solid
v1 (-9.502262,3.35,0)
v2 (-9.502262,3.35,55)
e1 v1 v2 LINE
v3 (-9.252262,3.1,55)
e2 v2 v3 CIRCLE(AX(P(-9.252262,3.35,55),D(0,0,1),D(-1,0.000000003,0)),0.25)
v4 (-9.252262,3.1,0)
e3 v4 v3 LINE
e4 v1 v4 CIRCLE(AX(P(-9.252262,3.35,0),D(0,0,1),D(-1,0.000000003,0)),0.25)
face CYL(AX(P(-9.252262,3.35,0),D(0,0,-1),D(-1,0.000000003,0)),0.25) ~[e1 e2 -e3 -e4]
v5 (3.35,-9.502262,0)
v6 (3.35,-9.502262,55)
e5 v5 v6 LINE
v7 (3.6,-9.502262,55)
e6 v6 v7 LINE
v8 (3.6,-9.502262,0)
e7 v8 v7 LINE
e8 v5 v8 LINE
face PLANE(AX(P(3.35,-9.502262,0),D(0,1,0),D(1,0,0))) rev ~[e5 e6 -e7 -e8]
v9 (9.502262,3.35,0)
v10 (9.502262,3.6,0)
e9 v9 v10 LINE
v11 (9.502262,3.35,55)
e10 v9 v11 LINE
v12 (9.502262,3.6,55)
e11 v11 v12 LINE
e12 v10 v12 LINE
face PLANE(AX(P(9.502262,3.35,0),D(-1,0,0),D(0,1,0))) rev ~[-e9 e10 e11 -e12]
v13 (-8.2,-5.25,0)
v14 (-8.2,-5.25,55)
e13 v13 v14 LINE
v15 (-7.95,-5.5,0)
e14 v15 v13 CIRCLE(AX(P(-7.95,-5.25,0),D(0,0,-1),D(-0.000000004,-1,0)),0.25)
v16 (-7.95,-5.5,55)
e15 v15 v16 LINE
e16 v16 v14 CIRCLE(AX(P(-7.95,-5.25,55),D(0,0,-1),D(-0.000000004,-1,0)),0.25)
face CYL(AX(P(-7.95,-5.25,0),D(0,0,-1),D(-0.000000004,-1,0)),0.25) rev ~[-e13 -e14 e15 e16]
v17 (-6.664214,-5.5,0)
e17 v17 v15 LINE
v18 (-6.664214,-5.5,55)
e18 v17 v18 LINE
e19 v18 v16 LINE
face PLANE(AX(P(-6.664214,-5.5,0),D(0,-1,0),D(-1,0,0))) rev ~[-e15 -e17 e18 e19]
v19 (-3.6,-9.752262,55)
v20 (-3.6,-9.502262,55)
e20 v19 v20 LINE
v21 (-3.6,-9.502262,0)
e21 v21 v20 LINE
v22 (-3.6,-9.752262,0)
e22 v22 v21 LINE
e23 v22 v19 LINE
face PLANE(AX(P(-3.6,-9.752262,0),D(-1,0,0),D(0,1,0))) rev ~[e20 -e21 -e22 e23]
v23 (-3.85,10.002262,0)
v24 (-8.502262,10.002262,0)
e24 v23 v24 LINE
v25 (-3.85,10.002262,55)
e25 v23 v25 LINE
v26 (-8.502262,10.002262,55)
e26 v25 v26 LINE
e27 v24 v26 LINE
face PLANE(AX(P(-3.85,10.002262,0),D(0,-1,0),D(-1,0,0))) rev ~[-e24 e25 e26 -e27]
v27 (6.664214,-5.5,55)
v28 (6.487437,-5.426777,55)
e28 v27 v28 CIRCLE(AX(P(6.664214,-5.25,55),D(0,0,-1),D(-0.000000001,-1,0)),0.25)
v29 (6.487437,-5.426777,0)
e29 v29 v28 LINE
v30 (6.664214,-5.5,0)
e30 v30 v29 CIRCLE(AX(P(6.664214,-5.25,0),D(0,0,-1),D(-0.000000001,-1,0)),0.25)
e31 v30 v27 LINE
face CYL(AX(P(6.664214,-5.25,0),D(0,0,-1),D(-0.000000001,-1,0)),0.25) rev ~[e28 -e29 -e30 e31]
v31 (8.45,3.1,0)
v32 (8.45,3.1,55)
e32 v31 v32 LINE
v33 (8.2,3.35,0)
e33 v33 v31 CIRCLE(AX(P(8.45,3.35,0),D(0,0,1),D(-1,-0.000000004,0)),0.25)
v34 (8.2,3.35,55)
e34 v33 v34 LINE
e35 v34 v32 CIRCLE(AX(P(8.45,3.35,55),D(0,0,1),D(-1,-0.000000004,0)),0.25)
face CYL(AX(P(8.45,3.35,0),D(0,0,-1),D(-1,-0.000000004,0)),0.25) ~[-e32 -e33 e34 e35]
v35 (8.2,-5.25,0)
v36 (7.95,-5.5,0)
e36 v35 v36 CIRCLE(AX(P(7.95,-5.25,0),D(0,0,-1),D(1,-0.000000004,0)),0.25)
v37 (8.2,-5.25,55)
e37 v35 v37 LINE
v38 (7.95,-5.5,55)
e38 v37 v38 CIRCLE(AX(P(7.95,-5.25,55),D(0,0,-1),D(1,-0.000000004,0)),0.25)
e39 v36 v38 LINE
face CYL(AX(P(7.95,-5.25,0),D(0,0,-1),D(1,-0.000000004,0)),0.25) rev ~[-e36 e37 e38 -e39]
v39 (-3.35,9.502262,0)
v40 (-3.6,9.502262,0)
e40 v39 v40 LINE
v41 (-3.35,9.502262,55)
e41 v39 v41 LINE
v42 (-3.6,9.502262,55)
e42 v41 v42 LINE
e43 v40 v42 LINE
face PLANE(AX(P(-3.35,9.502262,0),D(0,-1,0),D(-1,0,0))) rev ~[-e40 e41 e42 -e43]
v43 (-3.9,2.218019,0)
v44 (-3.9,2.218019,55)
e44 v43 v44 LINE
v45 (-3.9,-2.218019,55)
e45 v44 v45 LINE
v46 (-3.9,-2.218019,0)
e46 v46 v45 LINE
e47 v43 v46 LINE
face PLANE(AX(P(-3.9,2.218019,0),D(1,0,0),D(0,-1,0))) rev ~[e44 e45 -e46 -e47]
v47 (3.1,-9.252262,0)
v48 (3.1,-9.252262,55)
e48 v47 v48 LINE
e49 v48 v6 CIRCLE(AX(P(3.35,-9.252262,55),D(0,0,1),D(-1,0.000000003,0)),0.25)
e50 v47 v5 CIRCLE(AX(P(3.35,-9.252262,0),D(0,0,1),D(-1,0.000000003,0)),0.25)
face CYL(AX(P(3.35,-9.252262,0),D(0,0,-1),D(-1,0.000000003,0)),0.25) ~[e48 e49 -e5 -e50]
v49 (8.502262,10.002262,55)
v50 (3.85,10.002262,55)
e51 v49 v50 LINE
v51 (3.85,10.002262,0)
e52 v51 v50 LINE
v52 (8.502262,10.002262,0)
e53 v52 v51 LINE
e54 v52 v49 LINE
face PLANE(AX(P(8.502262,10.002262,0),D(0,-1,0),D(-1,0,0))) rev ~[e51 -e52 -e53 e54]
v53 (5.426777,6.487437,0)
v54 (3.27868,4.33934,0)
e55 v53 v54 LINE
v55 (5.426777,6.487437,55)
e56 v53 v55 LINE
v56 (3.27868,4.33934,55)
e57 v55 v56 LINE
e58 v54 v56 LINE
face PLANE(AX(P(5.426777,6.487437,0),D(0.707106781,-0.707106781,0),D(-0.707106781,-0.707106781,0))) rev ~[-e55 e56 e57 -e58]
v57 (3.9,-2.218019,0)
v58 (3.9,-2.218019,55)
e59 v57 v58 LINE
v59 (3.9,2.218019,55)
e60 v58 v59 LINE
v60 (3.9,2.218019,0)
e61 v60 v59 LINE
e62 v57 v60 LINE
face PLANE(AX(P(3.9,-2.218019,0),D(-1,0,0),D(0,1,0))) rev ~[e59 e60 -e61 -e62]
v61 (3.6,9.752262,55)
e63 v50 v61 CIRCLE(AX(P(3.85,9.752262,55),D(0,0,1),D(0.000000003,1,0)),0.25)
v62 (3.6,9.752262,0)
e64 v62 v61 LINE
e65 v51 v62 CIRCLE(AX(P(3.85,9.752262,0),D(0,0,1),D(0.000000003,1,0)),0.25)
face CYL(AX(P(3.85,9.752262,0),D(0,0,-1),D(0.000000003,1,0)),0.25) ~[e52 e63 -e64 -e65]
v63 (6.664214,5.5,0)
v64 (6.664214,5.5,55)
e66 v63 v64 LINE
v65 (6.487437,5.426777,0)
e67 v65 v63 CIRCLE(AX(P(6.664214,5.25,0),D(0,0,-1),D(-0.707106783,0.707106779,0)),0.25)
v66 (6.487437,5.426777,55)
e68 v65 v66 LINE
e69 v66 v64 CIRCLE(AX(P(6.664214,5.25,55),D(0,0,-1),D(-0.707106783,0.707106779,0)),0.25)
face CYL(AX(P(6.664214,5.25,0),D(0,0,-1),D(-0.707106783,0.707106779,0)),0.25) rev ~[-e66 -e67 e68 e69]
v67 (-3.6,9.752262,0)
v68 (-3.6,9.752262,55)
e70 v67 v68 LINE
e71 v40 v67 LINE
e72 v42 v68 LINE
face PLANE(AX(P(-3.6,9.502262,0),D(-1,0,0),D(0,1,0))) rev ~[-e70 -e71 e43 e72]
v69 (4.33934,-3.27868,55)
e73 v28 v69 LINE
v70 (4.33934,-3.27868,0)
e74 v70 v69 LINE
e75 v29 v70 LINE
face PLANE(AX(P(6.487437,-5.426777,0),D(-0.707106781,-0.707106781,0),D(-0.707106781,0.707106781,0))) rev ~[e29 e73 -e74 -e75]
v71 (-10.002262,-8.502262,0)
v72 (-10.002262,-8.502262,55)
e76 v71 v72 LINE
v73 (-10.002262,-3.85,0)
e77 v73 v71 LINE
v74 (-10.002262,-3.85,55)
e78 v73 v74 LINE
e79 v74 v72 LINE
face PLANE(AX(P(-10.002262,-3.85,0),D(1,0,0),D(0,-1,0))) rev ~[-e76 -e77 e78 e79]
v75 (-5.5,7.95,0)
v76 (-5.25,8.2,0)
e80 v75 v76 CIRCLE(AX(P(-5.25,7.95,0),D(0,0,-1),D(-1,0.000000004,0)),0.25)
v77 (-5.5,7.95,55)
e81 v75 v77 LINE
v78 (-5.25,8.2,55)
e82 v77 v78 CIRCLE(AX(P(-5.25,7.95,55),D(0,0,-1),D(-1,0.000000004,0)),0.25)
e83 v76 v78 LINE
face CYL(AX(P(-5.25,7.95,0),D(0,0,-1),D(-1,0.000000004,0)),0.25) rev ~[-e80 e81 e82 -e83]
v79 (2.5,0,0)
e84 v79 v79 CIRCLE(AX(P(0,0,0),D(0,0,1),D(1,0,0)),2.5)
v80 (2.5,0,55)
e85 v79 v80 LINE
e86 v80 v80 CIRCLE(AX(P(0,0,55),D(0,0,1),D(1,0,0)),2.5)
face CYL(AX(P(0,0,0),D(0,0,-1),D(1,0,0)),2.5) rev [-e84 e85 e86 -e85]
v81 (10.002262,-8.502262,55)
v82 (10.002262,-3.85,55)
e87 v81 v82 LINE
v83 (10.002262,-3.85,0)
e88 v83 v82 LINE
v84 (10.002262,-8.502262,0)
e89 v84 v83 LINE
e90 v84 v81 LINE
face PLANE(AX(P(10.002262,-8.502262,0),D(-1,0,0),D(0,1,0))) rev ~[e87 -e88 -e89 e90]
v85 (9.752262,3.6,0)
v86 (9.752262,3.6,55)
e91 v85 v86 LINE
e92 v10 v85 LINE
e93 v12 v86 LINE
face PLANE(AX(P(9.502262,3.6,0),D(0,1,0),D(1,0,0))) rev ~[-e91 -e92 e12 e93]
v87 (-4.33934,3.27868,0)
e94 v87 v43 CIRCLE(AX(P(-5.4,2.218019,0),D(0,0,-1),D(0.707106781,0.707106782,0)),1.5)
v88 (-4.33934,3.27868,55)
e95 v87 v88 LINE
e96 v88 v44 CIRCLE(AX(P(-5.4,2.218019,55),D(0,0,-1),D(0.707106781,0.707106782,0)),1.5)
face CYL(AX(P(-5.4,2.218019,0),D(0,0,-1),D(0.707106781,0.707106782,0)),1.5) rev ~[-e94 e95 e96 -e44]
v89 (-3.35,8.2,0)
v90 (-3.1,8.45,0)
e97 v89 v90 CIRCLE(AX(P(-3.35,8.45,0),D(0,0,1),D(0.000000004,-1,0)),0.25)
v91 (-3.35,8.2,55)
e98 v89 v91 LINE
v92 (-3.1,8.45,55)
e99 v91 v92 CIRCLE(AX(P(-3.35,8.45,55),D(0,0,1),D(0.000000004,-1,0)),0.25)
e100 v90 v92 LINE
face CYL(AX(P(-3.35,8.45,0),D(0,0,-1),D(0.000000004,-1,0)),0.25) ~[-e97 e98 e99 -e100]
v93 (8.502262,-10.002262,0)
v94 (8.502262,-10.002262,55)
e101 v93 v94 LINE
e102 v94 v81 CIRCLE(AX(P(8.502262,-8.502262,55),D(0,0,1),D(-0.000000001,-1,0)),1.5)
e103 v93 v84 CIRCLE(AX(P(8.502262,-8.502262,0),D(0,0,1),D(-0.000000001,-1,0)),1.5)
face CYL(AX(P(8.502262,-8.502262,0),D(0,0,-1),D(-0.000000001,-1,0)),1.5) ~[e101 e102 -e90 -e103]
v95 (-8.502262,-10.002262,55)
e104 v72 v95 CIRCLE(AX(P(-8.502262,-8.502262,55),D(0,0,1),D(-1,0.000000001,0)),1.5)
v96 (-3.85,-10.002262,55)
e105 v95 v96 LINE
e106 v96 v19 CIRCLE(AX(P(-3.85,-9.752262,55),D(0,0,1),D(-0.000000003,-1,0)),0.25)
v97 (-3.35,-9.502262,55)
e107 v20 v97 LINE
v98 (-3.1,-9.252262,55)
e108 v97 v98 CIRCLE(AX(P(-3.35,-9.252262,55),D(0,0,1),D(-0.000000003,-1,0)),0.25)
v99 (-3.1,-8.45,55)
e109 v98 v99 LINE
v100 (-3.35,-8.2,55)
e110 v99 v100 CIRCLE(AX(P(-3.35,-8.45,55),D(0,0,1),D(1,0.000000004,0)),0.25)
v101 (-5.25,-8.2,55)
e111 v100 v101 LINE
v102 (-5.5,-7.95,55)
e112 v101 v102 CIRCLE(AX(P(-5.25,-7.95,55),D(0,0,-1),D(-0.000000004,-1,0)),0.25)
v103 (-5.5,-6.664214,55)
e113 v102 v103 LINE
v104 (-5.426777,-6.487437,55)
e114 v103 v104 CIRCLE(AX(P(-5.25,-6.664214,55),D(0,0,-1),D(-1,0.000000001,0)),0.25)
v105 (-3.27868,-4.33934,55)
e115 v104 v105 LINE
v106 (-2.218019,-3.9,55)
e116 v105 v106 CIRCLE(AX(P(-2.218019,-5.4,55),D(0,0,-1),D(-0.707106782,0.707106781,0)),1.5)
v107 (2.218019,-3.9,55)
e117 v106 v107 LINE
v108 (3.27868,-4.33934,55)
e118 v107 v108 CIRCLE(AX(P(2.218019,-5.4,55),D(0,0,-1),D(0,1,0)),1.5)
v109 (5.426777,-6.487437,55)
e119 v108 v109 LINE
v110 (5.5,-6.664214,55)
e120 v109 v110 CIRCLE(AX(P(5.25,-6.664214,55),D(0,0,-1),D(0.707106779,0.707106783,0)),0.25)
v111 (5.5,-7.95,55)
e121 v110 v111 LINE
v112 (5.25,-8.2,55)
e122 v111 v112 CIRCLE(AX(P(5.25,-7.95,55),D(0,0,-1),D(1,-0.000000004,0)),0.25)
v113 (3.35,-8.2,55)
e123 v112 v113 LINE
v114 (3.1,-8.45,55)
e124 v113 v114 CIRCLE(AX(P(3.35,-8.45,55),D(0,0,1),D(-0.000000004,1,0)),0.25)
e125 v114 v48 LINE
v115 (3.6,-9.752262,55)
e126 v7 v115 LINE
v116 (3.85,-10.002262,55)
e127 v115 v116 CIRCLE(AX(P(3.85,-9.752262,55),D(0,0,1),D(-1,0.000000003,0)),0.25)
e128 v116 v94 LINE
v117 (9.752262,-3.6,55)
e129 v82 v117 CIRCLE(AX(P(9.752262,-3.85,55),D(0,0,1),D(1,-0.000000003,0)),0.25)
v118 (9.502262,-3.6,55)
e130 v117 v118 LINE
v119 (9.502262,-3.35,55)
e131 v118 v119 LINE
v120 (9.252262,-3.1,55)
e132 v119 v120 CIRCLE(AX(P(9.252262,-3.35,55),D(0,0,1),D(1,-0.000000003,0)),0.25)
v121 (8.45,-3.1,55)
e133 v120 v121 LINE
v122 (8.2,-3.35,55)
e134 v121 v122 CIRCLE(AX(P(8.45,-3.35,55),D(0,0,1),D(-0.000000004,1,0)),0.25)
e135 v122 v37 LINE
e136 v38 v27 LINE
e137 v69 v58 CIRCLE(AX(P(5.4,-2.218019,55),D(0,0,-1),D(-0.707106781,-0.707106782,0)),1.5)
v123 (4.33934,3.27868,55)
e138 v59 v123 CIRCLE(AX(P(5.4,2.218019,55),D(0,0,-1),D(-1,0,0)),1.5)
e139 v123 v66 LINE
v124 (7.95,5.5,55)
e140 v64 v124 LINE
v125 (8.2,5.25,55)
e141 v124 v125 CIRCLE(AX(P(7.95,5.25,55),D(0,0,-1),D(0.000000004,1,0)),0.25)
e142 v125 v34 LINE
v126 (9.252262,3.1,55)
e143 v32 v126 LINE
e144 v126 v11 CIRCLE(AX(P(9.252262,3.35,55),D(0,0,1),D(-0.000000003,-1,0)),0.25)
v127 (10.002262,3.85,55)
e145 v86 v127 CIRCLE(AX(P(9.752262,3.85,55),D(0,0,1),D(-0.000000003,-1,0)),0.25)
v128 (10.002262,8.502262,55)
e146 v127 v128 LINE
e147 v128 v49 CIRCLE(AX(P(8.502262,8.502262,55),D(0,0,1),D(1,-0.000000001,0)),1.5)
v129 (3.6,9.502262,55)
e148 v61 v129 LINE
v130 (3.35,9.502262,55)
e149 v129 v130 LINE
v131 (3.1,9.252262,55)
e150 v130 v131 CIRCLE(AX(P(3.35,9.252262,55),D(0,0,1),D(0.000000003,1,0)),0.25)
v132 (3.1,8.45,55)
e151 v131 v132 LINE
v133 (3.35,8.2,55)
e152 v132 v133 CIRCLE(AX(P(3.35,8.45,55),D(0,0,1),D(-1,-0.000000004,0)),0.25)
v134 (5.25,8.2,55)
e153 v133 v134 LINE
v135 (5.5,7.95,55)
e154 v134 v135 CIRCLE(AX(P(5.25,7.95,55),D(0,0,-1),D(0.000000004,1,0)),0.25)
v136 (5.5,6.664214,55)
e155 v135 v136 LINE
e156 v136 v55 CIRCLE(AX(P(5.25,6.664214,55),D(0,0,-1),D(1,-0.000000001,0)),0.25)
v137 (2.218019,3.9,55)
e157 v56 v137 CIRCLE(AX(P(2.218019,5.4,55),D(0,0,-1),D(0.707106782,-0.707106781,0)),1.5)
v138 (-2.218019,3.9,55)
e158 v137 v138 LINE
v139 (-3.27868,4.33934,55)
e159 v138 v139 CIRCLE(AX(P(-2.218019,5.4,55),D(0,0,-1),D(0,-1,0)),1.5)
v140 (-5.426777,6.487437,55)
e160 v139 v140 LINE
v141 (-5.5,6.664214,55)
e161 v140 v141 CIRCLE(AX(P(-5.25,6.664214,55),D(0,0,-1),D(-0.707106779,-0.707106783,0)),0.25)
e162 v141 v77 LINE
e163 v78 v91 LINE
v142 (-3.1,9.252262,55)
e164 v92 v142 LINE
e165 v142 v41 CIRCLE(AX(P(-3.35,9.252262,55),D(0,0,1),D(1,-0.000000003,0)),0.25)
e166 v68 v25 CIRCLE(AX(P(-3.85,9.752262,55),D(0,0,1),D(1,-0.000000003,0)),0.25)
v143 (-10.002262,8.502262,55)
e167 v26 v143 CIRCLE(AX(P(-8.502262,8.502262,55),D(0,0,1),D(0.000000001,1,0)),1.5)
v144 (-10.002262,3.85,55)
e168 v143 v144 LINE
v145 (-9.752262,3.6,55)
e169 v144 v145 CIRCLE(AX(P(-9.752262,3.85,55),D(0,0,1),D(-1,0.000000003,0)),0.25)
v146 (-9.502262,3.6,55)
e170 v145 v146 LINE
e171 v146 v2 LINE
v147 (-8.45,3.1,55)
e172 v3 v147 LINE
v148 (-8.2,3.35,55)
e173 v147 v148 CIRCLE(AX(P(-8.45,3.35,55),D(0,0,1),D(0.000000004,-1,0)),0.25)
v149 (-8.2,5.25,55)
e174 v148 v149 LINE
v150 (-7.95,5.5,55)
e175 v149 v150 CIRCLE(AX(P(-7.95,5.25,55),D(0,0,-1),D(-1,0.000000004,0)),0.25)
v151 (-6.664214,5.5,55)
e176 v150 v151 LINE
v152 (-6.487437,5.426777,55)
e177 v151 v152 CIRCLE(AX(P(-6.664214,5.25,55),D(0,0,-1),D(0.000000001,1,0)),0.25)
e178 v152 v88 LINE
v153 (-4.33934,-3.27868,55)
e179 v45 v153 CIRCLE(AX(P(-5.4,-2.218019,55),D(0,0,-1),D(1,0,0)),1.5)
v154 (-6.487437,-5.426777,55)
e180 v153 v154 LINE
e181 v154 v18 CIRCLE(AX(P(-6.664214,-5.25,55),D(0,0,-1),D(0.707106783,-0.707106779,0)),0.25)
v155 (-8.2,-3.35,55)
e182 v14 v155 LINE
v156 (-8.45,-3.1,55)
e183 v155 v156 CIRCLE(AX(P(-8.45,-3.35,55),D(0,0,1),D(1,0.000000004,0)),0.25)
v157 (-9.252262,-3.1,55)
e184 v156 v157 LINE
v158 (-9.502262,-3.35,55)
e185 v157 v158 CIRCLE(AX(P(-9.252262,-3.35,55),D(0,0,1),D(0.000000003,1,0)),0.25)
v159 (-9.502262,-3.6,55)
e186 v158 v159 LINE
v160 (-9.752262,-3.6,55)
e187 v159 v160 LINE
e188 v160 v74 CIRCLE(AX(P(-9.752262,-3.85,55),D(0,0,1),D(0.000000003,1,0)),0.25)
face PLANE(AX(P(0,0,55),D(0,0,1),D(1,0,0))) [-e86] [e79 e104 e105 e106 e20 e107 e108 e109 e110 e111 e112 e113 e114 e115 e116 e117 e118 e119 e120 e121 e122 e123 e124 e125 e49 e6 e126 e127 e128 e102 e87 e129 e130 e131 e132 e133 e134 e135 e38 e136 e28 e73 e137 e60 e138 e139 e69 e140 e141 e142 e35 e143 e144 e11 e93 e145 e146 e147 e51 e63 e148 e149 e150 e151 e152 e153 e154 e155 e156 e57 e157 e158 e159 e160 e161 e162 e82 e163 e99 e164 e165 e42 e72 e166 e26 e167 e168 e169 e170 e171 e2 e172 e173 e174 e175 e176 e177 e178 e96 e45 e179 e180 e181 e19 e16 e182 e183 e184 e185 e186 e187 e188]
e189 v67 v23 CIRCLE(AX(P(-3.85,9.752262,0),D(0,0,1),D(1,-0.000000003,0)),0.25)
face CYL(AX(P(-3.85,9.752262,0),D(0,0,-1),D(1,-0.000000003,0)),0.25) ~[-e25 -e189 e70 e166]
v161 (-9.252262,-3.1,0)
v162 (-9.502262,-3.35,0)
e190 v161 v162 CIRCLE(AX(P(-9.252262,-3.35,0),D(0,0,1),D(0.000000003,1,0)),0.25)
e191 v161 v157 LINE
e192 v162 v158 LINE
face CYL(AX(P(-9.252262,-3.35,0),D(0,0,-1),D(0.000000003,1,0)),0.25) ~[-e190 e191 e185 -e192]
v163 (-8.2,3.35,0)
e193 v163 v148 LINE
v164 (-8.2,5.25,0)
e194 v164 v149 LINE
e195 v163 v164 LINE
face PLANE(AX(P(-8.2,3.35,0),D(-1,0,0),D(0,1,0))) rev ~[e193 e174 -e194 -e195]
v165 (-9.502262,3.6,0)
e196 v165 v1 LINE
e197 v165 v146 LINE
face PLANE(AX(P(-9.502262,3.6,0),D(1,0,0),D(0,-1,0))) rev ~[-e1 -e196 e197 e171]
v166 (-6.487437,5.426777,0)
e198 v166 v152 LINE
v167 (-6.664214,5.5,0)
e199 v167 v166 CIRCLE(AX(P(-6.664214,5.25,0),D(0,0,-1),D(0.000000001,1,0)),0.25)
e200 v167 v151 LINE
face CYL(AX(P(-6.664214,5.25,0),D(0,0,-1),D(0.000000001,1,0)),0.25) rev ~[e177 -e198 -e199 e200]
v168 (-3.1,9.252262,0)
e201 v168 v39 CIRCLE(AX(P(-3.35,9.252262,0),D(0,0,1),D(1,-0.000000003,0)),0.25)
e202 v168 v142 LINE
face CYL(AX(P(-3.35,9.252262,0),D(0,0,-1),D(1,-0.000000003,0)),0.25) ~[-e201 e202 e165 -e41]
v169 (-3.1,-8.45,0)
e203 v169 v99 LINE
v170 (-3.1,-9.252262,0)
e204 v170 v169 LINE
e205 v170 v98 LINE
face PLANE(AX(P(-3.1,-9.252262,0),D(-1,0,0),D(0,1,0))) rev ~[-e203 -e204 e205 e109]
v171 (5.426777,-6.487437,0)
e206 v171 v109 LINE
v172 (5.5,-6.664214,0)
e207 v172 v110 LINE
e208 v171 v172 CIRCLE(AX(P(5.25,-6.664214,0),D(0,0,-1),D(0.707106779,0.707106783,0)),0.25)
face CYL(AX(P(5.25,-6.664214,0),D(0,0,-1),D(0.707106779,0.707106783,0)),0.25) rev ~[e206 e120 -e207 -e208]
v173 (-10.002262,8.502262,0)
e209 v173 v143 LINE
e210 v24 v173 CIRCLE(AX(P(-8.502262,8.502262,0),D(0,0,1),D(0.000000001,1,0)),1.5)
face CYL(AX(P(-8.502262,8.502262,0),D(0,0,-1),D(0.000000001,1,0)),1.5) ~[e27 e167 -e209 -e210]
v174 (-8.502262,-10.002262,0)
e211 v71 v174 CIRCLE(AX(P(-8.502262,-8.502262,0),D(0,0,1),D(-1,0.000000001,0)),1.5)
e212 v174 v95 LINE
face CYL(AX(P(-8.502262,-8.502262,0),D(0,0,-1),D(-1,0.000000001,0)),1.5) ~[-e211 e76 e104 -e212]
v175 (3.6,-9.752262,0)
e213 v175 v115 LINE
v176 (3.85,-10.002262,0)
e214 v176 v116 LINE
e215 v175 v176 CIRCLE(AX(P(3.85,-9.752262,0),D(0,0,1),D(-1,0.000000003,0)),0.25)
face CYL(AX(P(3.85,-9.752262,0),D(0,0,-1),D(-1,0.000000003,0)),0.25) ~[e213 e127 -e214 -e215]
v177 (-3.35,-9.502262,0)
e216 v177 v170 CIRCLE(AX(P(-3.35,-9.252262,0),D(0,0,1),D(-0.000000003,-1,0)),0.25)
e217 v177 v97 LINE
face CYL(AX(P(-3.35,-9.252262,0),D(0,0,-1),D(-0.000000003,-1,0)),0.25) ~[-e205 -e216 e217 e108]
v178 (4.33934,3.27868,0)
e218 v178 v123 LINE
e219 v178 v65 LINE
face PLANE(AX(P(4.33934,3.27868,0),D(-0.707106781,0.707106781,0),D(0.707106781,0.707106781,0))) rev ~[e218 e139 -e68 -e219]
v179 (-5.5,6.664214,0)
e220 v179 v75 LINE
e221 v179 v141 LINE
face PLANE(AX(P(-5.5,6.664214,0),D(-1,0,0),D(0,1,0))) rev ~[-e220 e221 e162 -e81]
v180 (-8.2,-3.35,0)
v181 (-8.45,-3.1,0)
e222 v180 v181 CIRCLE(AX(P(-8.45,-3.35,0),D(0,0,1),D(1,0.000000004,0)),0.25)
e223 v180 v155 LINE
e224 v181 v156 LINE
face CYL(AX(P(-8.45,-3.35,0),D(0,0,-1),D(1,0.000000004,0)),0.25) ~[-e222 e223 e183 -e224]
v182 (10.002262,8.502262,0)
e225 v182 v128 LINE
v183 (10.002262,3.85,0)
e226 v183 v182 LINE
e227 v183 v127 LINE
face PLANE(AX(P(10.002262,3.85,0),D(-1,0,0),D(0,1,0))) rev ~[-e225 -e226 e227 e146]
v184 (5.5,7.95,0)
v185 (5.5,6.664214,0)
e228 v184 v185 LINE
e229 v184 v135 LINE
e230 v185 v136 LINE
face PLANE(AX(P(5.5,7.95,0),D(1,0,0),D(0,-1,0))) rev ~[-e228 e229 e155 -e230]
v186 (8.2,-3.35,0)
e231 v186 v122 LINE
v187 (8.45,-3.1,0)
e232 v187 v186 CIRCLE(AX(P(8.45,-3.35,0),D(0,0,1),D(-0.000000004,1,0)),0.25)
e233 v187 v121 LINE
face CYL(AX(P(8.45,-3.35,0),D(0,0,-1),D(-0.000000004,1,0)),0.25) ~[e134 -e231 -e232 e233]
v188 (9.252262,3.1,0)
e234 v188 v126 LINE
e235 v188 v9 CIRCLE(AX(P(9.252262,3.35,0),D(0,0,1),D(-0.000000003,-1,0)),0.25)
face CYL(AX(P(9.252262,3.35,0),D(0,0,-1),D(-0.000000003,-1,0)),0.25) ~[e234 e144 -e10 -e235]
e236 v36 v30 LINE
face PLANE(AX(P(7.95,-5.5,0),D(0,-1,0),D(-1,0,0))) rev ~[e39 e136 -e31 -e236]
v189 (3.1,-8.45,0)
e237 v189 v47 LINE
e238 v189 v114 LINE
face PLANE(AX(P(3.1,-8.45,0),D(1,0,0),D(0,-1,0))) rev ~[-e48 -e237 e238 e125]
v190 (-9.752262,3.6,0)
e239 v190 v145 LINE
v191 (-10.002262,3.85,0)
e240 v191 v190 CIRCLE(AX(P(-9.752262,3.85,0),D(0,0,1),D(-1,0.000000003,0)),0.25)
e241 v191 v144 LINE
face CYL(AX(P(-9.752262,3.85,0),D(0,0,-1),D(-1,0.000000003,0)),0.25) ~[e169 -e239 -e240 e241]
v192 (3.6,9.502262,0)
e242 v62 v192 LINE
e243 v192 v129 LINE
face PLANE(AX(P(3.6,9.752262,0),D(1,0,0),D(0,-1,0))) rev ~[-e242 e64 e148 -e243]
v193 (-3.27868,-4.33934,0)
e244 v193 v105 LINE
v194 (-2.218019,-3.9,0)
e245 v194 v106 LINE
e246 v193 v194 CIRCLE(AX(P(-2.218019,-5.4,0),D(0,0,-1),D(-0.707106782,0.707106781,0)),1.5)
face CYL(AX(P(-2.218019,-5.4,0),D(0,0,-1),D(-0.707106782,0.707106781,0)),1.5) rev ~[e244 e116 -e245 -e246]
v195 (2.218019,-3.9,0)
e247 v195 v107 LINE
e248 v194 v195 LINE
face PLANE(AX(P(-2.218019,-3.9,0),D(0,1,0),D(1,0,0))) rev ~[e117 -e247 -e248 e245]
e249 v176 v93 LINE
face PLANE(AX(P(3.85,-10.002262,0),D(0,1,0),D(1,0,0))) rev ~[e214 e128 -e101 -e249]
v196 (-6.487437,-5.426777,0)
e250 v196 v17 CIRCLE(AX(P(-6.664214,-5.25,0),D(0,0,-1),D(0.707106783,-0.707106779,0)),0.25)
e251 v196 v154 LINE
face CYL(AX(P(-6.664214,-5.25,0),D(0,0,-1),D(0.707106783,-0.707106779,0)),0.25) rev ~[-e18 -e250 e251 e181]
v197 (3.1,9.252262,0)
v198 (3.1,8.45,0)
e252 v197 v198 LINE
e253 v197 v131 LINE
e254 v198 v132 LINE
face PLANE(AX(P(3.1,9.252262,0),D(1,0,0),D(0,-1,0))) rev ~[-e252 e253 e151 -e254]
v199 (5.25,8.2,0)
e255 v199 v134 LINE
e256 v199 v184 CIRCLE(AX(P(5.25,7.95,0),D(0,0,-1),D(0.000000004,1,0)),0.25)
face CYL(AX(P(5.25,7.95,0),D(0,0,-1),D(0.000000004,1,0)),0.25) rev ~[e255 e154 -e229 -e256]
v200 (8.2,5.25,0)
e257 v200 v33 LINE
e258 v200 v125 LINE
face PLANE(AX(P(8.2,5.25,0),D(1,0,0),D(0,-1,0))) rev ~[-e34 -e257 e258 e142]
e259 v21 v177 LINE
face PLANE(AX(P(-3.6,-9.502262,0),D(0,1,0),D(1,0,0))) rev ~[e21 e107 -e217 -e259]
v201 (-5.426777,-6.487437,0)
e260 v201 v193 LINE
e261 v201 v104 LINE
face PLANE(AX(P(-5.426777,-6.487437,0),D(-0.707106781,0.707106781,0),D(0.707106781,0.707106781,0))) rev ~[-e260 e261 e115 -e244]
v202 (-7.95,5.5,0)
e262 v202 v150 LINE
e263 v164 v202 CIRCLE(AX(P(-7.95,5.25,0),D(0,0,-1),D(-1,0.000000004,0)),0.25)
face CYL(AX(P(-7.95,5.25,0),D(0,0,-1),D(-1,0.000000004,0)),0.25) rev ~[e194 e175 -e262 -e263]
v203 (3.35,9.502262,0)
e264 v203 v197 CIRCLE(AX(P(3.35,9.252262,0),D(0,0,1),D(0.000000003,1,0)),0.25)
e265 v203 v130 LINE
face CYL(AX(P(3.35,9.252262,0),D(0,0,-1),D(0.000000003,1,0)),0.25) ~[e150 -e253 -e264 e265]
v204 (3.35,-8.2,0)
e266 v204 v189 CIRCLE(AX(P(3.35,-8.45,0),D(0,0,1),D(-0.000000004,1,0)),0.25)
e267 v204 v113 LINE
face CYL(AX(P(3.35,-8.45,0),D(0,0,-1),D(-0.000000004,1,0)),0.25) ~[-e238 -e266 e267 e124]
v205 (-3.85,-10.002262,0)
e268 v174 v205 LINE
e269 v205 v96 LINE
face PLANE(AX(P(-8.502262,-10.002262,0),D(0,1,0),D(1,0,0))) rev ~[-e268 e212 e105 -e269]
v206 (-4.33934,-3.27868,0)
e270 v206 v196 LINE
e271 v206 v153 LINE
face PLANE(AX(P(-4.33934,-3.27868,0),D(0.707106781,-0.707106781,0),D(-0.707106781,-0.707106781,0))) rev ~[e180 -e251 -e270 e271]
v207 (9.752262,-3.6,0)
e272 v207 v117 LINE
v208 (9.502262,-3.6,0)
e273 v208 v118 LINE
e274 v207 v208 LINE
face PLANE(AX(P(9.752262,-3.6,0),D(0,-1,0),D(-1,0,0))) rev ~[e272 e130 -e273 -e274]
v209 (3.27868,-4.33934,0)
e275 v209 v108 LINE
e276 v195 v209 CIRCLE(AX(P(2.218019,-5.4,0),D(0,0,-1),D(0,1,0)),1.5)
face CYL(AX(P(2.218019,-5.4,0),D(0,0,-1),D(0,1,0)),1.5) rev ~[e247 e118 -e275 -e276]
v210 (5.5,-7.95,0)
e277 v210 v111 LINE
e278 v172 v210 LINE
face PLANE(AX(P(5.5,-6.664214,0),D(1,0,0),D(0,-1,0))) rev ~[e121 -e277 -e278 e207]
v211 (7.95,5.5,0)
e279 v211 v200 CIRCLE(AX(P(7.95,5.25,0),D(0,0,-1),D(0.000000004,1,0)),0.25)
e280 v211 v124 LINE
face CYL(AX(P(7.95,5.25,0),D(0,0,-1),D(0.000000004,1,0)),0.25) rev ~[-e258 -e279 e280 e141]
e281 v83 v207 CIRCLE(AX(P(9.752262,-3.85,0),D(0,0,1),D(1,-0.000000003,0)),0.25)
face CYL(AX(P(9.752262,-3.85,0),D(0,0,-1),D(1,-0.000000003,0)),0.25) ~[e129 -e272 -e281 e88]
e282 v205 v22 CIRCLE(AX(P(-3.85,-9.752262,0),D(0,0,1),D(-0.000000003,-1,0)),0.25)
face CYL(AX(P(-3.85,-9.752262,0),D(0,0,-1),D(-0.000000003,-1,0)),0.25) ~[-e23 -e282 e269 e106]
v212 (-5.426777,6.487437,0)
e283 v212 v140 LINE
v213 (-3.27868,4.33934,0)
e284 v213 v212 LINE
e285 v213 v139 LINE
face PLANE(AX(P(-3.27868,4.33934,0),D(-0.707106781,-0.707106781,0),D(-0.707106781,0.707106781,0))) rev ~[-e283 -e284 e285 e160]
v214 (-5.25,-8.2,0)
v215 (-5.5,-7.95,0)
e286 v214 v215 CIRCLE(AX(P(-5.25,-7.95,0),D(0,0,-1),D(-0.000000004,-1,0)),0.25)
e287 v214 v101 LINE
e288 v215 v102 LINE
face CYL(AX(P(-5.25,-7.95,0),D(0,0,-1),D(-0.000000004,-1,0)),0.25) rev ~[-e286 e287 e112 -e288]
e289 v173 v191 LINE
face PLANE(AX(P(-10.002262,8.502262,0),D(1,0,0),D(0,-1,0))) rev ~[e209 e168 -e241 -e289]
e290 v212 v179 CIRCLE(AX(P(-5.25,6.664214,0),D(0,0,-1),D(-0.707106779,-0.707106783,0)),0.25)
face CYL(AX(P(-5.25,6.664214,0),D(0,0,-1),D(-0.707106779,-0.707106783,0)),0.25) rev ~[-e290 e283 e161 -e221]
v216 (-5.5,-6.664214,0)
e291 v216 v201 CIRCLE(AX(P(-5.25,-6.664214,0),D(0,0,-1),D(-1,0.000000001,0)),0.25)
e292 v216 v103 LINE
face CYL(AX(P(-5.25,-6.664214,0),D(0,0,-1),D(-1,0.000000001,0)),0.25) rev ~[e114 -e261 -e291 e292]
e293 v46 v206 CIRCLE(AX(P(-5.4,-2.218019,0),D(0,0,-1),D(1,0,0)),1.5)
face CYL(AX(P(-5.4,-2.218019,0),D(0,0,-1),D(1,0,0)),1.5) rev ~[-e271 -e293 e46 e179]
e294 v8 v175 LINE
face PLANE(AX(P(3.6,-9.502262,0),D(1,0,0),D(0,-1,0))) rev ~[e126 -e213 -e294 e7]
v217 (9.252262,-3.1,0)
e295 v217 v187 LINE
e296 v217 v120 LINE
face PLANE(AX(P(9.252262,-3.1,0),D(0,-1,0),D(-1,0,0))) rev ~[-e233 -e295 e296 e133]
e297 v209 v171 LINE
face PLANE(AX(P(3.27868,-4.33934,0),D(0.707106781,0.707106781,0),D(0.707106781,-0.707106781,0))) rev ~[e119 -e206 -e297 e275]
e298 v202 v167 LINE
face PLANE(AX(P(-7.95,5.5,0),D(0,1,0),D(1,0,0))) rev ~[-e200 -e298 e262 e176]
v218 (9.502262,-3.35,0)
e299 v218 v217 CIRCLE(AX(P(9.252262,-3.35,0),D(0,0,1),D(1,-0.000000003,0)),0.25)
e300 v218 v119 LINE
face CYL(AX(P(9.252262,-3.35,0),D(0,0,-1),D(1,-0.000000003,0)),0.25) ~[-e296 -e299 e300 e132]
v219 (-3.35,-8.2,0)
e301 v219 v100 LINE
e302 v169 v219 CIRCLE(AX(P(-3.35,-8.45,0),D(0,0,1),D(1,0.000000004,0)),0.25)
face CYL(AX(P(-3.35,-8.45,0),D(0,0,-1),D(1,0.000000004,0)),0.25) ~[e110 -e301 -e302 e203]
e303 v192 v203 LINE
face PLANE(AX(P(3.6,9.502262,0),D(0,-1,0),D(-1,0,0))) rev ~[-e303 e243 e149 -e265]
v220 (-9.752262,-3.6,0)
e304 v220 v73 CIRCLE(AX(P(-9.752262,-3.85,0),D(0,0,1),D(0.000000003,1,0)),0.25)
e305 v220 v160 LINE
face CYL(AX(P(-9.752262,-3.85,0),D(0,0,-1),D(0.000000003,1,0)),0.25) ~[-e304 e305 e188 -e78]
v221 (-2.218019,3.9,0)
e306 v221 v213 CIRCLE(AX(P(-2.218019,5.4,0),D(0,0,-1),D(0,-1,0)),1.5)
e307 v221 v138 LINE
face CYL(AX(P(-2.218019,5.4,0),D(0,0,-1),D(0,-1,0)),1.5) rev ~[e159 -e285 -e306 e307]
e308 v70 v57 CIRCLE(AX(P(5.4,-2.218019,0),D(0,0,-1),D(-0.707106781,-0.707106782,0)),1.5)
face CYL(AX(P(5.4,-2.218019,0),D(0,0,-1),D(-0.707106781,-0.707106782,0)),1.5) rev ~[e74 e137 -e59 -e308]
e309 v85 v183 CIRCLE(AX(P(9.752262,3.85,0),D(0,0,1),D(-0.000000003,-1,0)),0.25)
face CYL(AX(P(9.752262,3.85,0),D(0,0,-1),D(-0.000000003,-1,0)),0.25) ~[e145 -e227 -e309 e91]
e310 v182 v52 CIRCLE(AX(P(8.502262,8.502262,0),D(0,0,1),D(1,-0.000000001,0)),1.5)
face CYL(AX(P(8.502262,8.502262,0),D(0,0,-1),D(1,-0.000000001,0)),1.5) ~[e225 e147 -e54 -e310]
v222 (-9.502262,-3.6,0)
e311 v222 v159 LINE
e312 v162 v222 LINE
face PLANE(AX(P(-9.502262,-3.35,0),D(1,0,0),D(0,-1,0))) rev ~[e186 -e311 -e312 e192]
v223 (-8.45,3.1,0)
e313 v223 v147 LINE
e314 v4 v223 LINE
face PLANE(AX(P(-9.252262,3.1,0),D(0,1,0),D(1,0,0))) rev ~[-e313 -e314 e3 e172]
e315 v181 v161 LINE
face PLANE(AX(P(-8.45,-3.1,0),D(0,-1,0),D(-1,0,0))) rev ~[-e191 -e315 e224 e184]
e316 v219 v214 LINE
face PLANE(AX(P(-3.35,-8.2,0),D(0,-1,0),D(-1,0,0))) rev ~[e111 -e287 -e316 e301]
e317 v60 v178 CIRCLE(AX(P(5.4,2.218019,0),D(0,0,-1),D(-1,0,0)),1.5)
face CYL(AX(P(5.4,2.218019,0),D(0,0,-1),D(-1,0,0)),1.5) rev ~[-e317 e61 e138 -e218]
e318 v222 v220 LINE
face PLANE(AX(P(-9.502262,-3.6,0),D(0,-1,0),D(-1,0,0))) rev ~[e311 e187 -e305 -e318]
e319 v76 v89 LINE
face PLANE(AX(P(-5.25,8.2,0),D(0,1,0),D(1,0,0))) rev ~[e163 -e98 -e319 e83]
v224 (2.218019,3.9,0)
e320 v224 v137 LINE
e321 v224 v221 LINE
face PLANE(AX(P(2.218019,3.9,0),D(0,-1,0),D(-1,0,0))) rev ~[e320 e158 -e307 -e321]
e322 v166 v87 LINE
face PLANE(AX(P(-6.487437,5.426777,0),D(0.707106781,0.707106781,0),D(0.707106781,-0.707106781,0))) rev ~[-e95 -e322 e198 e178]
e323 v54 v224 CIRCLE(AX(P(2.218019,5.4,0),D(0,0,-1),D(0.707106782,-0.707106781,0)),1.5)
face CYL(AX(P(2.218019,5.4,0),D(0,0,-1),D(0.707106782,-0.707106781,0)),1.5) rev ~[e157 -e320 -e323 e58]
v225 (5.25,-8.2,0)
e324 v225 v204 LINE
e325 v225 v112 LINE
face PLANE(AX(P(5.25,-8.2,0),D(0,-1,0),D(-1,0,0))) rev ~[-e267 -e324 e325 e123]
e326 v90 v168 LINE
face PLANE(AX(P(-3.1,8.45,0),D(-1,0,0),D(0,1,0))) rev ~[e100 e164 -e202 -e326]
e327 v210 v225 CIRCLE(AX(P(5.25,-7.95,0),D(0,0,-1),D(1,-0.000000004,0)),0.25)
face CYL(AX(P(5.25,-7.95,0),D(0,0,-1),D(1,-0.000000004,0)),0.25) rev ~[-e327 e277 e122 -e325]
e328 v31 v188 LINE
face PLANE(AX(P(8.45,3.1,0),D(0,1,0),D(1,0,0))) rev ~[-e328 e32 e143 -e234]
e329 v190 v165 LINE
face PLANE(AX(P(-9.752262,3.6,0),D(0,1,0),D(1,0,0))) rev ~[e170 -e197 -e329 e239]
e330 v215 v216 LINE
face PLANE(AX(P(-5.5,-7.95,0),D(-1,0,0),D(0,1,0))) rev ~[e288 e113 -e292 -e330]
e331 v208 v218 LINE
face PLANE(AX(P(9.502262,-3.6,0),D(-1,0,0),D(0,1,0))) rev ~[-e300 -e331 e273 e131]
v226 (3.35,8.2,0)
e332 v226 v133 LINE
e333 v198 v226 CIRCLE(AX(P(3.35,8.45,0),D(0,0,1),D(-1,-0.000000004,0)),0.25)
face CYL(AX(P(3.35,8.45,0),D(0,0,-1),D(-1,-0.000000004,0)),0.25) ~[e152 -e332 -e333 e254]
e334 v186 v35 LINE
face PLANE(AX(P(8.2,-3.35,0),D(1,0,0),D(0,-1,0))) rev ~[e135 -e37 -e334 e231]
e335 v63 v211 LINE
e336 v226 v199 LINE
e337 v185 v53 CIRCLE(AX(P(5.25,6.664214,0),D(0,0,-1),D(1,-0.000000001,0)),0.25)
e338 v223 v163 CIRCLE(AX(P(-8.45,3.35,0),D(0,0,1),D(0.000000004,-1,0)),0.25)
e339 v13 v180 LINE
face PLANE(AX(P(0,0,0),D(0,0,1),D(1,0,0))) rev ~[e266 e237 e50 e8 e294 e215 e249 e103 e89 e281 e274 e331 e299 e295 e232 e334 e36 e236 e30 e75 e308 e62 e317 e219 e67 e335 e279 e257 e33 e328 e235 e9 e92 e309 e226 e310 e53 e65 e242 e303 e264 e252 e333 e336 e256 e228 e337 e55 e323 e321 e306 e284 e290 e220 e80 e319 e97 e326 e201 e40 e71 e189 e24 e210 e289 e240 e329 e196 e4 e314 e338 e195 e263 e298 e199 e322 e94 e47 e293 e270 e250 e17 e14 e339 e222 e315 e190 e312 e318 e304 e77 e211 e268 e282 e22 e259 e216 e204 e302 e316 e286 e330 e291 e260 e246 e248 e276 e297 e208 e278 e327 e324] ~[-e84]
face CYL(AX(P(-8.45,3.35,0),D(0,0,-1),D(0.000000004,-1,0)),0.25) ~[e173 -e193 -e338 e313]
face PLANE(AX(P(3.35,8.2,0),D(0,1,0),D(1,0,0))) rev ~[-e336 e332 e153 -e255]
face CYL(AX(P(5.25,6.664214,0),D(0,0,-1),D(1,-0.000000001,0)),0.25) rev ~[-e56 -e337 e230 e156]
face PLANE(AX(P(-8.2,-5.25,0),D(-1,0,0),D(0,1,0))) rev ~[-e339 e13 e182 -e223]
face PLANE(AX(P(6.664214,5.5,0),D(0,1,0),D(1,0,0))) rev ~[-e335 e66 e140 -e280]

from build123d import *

# Parameters (mm, degrees)
SKETCH_1_R      = 2.5
EXTRUDE_1_DEPTH = 55


with BuildPart() as part:
    # 草图1 → 凸台-拉伸1 (new body)
    with BuildSketch(Plane.XY):
        with BuildLine():
            Line((-8.502261885, -10.002261885), (-3.85, -10.002261885))
            ThreePointArc((-3.85, -10.002261885), (-3.673223305, -9.929038581), (-3.6, -9.752261885))
            Line((-3.6, -9.752261885), (-3.6, -9.502261885))
            Line((-3.6, -9.502261885), (-3.35, -9.502261885))
            ThreePointArc((-3.35, -9.502261885), (-3.173223305, -9.429038581), (-3.1, -9.252261885))
            Line((-3.1, -9.252261885), (-3.1, -8.45))
            ThreePointArc((-3.1, -8.45), (-3.173223305, -8.273223305), (-3.35, -8.2))
            Line((-3.35, -8.2), (-5.25, -8.2))
            ThreePointArc((-5.25, -8.2), (-5.426776695, -8.126776695), (-5.5, -7.95))
            Line((-5.5, -7.95), (-5.5, -6.664213562))
            ThreePointArc((-5.5, -6.664213562), (-5.480969883, -6.568542704), (-5.426776695, -6.487436867))
            Line((-5.426776695, -6.487436867), (-3.278679656, -4.339339828))
            ThreePointArc((-3.278679656, -4.339339828), (-2.792044633, -4.014180701), (-2.218019485, -3.9))
            Line((-2.218019485, -3.9), (2.218019485, -3.9))
            ThreePointArc((2.218019485, -3.9), (2.792044633, -4.014180701), (3.278679656, -4.339339828))
            Line((3.278679656, -4.339339828), (5.426776695, -6.487436867))
            ThreePointArc((5.426776695, -6.487436867), (5.480969883, -6.568542704), (5.5, -6.664213562))
            Line((5.5, -6.664213562), (5.5, -7.95))
            ThreePointArc((5.5, -7.95), (5.426776695, -8.126776695), (5.25, -8.2))
            Line((5.25, -8.2), (3.35, -8.2))
            ThreePointArc((3.35, -8.2), (3.173223305, -8.273223305), (3.1, -8.45))
            Line((3.1, -8.45), (3.1, -9.252261885))
            ThreePointArc((3.1, -9.252261885), (3.173223305, -9.429038581), (3.35, -9.502261885))
            Line((3.35, -9.502261885), (3.6, -9.502261885))
            Line((3.6, -9.502261885), (3.6, -9.752261885))
            ThreePointArc((3.6, -9.752261885), (3.673223305, -9.929038581), (3.85, -10.002261885))
            Line((3.85, -10.002261885), (8.502261885, -10.002261885))
            ThreePointArc((8.502261885, -10.002261885), (9.562922057, -9.562922057), (10.002261885, -8.502261885))
            Line((10.002261885, -8.502261885), (10.002261885, -3.85))
            ThreePointArc((10.002261885, -3.85), (9.929038581, -3.673223305), (9.752261885, -3.6))
            Line((9.752261885, -3.6), (9.502261885, -3.6))
            Line((9.502261885, -3.6), (9.502261885, -3.35))
            ThreePointArc((9.502261885, -3.35), (9.429038581, -3.173223305), (9.252261885, -3.1))
            Line((9.252261885, -3.1), (8.45, -3.1))
            ThreePointArc((8.45, -3.1), (8.273223305, -3.173223305), (8.2, -3.35))
            Line((8.2, -3.35), (8.2, -5.25))
            ThreePointArc((8.2, -5.25), (8.126776695, -5.426776695), (7.95, -5.5))
            Line((7.95, -5.5), (6.664213562, -5.5))
            ThreePointArc((6.664213562, -5.5), (6.568542704, -5.480969883), (6.487436867, -5.426776695))
            Line((6.487436867, -5.426776695), (4.339339828, -3.278679656))
            ThreePointArc((4.339339828, -3.278679656), (4.014180701, -2.792044633), (3.9, -2.218019485))
            Line((3.9, -2.218019485), (3.9, 2.218019485))
            ThreePointArc((3.9, 2.218019485), (4.014180701, 2.792044633), (4.339339828, 3.278679656))
            Line((4.339339828, 3.278679656), (6.487436867, 5.426776695))
            ThreePointArc((6.487436867, 5.426776695), (6.568542704, 5.480969883), (6.664213562, 5.5))
            Line((6.664213562, 5.5), (7.95, 5.5))
            ThreePointArc((7.95, 5.5), (8.126776695, 5.426776695), (8.2, 5.25))
            Line((8.2, 5.25), (8.2, 3.35))
            ThreePointArc((8.2, 3.35), (8.273223305, 3.173223305), (8.45, 3.1))
            Line((8.45, 3.1), (9.252261885, 3.1))
            ThreePointArc((9.252261885, 3.1), (9.429038581, 3.173223305), (9.502261885, 3.35))
            Line((9.502261885, 3.35), (9.502261885, 3.6))
            Line((9.502261885, 3.6), (9.752261885, 3.6))
            ThreePointArc((9.752261885, 3.6), (9.929038581, 3.673223305), (10.002261885, 3.85))
            Line((10.002261885, 3.85), (10.002261885, 8.502261885))
            ThreePointArc((10.002261885, 8.502261885), (9.562922057, 9.562922057), (8.502261885, 10.002261885))
            Line((8.502261885, 10.002261885), (3.85, 10.002261885))
            ThreePointArc((3.85, 10.002261885), (3.673223305, 9.929038581), (3.6, 9.752261885))
            Line((3.6, 9.752261885), (3.6, 9.502261885))
            Line((3.6, 9.502261885), (3.35, 9.502261885))
            ThreePointArc((3.35, 9.502261885), (3.173223305, 9.429038581), (3.1, 9.252261885))
            Line((3.1, 9.252261885), (3.1, 8.45))
            ThreePointArc((3.1, 8.45), (3.173223305, 8.273223305), (3.35, 8.2))
            Line((3.35, 8.2), (5.25, 8.2))
            ThreePointArc((5.25, 8.2), (5.426776695, 8.126776695), (5.5, 7.95))
            Line((5.5, 7.95), (5.5, 6.664213562))
            ThreePointArc((5.5, 6.664213562), (5.480969883, 6.568542704), (5.426776695, 6.487436867))
            Line((5.426776695, 6.487436867), (3.278679656, 4.339339828))
            ThreePointArc((3.278679656, 4.339339828), (2.792044633, 4.014180701), (2.218019485, 3.9))
            Line((2.218019485, 3.9), (-2.218019485, 3.9))
            ThreePointArc((-2.218019485, 3.9), (-2.792044633, 4.014180701), (-3.278679656, 4.339339828))
            Line((-3.278679656, 4.339339828), (-5.426776695, 6.487436867))
            ThreePointArc((-5.426776695, 6.487436867), (-5.480969883, 6.568542704), (-5.5, 6.664213562))
            Line((-5.5, 6.664213562), (-5.5, 7.95))
            ThreePointArc((-5.5, 7.95), (-5.426776695, 8.126776695), (-5.25, 8.2))
            Line((-5.25, 8.2), (-3.35, 8.2))
            ThreePointArc((-3.35, 8.2), (-3.173223305, 8.273223305), (-3.1, 8.45))
            Line((-3.1, 8.45), (-3.1, 9.252261885))
            ThreePointArc((-3.1, 9.252261885), (-3.173223305, 9.429038581), (-3.35, 9.502261885))
            Line((-3.35, 9.502261885), (-3.6, 9.502261885))
            Line((-3.6, 9.502261885), (-3.6, 9.752261885))
            ThreePointArc((-3.6, 9.752261885), (-3.673223305, 9.929038581), (-3.85, 10.002261885))
            Line((-3.85, 10.002261885), (-8.502261885, 10.002261885))
            ThreePointArc((-8.502261885, 10.002261885), (-9.562922057, 9.562922057), (-10.002261885, 8.502261885))
            Line((-10.002261885, 8.502261885), (-10.002261885, 3.85))
            ThreePointArc((-10.002261885, 3.85), (-9.929038581, 3.673223305), (-9.752261885, 3.6))
            Line((-9.752261885, 3.6), (-9.502261885, 3.6))
            Line((-9.502261885, 3.6), (-9.502261885, 3.35))
            ThreePointArc((-9.502261885, 3.35), (-9.429038581, 3.173223305), (-9.252261885, 3.1))
            Line((-9.252261885, 3.1), (-8.45, 3.1))
            ThreePointArc((-8.45, 3.1), (-8.273223305, 3.173223305), (-8.2, 3.35))
            Line((-8.2, 3.35), (-8.2, 5.25))
            ThreePointArc((-8.2, 5.25), (-8.126776695, 5.426776695), (-7.95, 5.5))
            Line((-7.95, 5.5), (-6.664213562, 5.5))
            ThreePointArc((-6.664213562, 5.5), (-6.568542704, 5.480969883), (-6.487436867, 5.426776695))
            Line((-6.487436867, 5.426776695), (-4.339339828, 3.278679656))
            ThreePointArc((-4.339339828, 3.278679656), (-4.014180701, 2.792044633), (-3.9, 2.218019485))
            Line((-3.9, 2.218019485), (-3.9, -2.218019485))
            ThreePointArc((-3.9, -2.218019485), (-4.014180701, -2.792044633), (-4.339339828, -3.278679656))
            Line((-4.339339828, -3.278679656), (-6.487436867, -5.426776695))
            ThreePointArc((-6.487436867, -5.426776695), (-6.568542704, -5.480969883), (-6.664213562, -5.5))
            Line((-6.664213562, -5.5), (-7.95, -5.5))
            ThreePointArc((-7.95, -5.5), (-8.126776695, -5.426776695), (-8.2, -5.25))
            Line((-8.2, -5.25), (-8.2, -3.35))
            ThreePointArc((-8.2, -3.35), (-8.273223305, -3.173223305), (-8.45, -3.1))
            Line((-8.45, -3.1), (-9.252261885, -3.1))
            ThreePointArc((-9.252261885, -3.1), (-9.429038581, -3.173223305), (-9.502261885, -3.35))
            Line((-9.502261885, -3.35), (-9.502261885, -3.6))
            Line((-9.502261885, -3.6), (-9.752261885, -3.6))
            ThreePointArc((-9.752261885, -3.6), (-9.929038581, -3.673223305), (-10.002261885, -3.85))
            Line((-10.002261885, -3.85), (-10.002261885, -8.502261885))
            ThreePointArc((-10.002261885, -8.502261885), (-9.562922057, -9.562922057), (-8.502261885, -10.002261885))
        make_face()
        Circle(SKETCH_1_R, mode=Mode.SUBTRACT)
    extrude(amount=EXTRUDE_1_DEPTH)


solid = part.part
